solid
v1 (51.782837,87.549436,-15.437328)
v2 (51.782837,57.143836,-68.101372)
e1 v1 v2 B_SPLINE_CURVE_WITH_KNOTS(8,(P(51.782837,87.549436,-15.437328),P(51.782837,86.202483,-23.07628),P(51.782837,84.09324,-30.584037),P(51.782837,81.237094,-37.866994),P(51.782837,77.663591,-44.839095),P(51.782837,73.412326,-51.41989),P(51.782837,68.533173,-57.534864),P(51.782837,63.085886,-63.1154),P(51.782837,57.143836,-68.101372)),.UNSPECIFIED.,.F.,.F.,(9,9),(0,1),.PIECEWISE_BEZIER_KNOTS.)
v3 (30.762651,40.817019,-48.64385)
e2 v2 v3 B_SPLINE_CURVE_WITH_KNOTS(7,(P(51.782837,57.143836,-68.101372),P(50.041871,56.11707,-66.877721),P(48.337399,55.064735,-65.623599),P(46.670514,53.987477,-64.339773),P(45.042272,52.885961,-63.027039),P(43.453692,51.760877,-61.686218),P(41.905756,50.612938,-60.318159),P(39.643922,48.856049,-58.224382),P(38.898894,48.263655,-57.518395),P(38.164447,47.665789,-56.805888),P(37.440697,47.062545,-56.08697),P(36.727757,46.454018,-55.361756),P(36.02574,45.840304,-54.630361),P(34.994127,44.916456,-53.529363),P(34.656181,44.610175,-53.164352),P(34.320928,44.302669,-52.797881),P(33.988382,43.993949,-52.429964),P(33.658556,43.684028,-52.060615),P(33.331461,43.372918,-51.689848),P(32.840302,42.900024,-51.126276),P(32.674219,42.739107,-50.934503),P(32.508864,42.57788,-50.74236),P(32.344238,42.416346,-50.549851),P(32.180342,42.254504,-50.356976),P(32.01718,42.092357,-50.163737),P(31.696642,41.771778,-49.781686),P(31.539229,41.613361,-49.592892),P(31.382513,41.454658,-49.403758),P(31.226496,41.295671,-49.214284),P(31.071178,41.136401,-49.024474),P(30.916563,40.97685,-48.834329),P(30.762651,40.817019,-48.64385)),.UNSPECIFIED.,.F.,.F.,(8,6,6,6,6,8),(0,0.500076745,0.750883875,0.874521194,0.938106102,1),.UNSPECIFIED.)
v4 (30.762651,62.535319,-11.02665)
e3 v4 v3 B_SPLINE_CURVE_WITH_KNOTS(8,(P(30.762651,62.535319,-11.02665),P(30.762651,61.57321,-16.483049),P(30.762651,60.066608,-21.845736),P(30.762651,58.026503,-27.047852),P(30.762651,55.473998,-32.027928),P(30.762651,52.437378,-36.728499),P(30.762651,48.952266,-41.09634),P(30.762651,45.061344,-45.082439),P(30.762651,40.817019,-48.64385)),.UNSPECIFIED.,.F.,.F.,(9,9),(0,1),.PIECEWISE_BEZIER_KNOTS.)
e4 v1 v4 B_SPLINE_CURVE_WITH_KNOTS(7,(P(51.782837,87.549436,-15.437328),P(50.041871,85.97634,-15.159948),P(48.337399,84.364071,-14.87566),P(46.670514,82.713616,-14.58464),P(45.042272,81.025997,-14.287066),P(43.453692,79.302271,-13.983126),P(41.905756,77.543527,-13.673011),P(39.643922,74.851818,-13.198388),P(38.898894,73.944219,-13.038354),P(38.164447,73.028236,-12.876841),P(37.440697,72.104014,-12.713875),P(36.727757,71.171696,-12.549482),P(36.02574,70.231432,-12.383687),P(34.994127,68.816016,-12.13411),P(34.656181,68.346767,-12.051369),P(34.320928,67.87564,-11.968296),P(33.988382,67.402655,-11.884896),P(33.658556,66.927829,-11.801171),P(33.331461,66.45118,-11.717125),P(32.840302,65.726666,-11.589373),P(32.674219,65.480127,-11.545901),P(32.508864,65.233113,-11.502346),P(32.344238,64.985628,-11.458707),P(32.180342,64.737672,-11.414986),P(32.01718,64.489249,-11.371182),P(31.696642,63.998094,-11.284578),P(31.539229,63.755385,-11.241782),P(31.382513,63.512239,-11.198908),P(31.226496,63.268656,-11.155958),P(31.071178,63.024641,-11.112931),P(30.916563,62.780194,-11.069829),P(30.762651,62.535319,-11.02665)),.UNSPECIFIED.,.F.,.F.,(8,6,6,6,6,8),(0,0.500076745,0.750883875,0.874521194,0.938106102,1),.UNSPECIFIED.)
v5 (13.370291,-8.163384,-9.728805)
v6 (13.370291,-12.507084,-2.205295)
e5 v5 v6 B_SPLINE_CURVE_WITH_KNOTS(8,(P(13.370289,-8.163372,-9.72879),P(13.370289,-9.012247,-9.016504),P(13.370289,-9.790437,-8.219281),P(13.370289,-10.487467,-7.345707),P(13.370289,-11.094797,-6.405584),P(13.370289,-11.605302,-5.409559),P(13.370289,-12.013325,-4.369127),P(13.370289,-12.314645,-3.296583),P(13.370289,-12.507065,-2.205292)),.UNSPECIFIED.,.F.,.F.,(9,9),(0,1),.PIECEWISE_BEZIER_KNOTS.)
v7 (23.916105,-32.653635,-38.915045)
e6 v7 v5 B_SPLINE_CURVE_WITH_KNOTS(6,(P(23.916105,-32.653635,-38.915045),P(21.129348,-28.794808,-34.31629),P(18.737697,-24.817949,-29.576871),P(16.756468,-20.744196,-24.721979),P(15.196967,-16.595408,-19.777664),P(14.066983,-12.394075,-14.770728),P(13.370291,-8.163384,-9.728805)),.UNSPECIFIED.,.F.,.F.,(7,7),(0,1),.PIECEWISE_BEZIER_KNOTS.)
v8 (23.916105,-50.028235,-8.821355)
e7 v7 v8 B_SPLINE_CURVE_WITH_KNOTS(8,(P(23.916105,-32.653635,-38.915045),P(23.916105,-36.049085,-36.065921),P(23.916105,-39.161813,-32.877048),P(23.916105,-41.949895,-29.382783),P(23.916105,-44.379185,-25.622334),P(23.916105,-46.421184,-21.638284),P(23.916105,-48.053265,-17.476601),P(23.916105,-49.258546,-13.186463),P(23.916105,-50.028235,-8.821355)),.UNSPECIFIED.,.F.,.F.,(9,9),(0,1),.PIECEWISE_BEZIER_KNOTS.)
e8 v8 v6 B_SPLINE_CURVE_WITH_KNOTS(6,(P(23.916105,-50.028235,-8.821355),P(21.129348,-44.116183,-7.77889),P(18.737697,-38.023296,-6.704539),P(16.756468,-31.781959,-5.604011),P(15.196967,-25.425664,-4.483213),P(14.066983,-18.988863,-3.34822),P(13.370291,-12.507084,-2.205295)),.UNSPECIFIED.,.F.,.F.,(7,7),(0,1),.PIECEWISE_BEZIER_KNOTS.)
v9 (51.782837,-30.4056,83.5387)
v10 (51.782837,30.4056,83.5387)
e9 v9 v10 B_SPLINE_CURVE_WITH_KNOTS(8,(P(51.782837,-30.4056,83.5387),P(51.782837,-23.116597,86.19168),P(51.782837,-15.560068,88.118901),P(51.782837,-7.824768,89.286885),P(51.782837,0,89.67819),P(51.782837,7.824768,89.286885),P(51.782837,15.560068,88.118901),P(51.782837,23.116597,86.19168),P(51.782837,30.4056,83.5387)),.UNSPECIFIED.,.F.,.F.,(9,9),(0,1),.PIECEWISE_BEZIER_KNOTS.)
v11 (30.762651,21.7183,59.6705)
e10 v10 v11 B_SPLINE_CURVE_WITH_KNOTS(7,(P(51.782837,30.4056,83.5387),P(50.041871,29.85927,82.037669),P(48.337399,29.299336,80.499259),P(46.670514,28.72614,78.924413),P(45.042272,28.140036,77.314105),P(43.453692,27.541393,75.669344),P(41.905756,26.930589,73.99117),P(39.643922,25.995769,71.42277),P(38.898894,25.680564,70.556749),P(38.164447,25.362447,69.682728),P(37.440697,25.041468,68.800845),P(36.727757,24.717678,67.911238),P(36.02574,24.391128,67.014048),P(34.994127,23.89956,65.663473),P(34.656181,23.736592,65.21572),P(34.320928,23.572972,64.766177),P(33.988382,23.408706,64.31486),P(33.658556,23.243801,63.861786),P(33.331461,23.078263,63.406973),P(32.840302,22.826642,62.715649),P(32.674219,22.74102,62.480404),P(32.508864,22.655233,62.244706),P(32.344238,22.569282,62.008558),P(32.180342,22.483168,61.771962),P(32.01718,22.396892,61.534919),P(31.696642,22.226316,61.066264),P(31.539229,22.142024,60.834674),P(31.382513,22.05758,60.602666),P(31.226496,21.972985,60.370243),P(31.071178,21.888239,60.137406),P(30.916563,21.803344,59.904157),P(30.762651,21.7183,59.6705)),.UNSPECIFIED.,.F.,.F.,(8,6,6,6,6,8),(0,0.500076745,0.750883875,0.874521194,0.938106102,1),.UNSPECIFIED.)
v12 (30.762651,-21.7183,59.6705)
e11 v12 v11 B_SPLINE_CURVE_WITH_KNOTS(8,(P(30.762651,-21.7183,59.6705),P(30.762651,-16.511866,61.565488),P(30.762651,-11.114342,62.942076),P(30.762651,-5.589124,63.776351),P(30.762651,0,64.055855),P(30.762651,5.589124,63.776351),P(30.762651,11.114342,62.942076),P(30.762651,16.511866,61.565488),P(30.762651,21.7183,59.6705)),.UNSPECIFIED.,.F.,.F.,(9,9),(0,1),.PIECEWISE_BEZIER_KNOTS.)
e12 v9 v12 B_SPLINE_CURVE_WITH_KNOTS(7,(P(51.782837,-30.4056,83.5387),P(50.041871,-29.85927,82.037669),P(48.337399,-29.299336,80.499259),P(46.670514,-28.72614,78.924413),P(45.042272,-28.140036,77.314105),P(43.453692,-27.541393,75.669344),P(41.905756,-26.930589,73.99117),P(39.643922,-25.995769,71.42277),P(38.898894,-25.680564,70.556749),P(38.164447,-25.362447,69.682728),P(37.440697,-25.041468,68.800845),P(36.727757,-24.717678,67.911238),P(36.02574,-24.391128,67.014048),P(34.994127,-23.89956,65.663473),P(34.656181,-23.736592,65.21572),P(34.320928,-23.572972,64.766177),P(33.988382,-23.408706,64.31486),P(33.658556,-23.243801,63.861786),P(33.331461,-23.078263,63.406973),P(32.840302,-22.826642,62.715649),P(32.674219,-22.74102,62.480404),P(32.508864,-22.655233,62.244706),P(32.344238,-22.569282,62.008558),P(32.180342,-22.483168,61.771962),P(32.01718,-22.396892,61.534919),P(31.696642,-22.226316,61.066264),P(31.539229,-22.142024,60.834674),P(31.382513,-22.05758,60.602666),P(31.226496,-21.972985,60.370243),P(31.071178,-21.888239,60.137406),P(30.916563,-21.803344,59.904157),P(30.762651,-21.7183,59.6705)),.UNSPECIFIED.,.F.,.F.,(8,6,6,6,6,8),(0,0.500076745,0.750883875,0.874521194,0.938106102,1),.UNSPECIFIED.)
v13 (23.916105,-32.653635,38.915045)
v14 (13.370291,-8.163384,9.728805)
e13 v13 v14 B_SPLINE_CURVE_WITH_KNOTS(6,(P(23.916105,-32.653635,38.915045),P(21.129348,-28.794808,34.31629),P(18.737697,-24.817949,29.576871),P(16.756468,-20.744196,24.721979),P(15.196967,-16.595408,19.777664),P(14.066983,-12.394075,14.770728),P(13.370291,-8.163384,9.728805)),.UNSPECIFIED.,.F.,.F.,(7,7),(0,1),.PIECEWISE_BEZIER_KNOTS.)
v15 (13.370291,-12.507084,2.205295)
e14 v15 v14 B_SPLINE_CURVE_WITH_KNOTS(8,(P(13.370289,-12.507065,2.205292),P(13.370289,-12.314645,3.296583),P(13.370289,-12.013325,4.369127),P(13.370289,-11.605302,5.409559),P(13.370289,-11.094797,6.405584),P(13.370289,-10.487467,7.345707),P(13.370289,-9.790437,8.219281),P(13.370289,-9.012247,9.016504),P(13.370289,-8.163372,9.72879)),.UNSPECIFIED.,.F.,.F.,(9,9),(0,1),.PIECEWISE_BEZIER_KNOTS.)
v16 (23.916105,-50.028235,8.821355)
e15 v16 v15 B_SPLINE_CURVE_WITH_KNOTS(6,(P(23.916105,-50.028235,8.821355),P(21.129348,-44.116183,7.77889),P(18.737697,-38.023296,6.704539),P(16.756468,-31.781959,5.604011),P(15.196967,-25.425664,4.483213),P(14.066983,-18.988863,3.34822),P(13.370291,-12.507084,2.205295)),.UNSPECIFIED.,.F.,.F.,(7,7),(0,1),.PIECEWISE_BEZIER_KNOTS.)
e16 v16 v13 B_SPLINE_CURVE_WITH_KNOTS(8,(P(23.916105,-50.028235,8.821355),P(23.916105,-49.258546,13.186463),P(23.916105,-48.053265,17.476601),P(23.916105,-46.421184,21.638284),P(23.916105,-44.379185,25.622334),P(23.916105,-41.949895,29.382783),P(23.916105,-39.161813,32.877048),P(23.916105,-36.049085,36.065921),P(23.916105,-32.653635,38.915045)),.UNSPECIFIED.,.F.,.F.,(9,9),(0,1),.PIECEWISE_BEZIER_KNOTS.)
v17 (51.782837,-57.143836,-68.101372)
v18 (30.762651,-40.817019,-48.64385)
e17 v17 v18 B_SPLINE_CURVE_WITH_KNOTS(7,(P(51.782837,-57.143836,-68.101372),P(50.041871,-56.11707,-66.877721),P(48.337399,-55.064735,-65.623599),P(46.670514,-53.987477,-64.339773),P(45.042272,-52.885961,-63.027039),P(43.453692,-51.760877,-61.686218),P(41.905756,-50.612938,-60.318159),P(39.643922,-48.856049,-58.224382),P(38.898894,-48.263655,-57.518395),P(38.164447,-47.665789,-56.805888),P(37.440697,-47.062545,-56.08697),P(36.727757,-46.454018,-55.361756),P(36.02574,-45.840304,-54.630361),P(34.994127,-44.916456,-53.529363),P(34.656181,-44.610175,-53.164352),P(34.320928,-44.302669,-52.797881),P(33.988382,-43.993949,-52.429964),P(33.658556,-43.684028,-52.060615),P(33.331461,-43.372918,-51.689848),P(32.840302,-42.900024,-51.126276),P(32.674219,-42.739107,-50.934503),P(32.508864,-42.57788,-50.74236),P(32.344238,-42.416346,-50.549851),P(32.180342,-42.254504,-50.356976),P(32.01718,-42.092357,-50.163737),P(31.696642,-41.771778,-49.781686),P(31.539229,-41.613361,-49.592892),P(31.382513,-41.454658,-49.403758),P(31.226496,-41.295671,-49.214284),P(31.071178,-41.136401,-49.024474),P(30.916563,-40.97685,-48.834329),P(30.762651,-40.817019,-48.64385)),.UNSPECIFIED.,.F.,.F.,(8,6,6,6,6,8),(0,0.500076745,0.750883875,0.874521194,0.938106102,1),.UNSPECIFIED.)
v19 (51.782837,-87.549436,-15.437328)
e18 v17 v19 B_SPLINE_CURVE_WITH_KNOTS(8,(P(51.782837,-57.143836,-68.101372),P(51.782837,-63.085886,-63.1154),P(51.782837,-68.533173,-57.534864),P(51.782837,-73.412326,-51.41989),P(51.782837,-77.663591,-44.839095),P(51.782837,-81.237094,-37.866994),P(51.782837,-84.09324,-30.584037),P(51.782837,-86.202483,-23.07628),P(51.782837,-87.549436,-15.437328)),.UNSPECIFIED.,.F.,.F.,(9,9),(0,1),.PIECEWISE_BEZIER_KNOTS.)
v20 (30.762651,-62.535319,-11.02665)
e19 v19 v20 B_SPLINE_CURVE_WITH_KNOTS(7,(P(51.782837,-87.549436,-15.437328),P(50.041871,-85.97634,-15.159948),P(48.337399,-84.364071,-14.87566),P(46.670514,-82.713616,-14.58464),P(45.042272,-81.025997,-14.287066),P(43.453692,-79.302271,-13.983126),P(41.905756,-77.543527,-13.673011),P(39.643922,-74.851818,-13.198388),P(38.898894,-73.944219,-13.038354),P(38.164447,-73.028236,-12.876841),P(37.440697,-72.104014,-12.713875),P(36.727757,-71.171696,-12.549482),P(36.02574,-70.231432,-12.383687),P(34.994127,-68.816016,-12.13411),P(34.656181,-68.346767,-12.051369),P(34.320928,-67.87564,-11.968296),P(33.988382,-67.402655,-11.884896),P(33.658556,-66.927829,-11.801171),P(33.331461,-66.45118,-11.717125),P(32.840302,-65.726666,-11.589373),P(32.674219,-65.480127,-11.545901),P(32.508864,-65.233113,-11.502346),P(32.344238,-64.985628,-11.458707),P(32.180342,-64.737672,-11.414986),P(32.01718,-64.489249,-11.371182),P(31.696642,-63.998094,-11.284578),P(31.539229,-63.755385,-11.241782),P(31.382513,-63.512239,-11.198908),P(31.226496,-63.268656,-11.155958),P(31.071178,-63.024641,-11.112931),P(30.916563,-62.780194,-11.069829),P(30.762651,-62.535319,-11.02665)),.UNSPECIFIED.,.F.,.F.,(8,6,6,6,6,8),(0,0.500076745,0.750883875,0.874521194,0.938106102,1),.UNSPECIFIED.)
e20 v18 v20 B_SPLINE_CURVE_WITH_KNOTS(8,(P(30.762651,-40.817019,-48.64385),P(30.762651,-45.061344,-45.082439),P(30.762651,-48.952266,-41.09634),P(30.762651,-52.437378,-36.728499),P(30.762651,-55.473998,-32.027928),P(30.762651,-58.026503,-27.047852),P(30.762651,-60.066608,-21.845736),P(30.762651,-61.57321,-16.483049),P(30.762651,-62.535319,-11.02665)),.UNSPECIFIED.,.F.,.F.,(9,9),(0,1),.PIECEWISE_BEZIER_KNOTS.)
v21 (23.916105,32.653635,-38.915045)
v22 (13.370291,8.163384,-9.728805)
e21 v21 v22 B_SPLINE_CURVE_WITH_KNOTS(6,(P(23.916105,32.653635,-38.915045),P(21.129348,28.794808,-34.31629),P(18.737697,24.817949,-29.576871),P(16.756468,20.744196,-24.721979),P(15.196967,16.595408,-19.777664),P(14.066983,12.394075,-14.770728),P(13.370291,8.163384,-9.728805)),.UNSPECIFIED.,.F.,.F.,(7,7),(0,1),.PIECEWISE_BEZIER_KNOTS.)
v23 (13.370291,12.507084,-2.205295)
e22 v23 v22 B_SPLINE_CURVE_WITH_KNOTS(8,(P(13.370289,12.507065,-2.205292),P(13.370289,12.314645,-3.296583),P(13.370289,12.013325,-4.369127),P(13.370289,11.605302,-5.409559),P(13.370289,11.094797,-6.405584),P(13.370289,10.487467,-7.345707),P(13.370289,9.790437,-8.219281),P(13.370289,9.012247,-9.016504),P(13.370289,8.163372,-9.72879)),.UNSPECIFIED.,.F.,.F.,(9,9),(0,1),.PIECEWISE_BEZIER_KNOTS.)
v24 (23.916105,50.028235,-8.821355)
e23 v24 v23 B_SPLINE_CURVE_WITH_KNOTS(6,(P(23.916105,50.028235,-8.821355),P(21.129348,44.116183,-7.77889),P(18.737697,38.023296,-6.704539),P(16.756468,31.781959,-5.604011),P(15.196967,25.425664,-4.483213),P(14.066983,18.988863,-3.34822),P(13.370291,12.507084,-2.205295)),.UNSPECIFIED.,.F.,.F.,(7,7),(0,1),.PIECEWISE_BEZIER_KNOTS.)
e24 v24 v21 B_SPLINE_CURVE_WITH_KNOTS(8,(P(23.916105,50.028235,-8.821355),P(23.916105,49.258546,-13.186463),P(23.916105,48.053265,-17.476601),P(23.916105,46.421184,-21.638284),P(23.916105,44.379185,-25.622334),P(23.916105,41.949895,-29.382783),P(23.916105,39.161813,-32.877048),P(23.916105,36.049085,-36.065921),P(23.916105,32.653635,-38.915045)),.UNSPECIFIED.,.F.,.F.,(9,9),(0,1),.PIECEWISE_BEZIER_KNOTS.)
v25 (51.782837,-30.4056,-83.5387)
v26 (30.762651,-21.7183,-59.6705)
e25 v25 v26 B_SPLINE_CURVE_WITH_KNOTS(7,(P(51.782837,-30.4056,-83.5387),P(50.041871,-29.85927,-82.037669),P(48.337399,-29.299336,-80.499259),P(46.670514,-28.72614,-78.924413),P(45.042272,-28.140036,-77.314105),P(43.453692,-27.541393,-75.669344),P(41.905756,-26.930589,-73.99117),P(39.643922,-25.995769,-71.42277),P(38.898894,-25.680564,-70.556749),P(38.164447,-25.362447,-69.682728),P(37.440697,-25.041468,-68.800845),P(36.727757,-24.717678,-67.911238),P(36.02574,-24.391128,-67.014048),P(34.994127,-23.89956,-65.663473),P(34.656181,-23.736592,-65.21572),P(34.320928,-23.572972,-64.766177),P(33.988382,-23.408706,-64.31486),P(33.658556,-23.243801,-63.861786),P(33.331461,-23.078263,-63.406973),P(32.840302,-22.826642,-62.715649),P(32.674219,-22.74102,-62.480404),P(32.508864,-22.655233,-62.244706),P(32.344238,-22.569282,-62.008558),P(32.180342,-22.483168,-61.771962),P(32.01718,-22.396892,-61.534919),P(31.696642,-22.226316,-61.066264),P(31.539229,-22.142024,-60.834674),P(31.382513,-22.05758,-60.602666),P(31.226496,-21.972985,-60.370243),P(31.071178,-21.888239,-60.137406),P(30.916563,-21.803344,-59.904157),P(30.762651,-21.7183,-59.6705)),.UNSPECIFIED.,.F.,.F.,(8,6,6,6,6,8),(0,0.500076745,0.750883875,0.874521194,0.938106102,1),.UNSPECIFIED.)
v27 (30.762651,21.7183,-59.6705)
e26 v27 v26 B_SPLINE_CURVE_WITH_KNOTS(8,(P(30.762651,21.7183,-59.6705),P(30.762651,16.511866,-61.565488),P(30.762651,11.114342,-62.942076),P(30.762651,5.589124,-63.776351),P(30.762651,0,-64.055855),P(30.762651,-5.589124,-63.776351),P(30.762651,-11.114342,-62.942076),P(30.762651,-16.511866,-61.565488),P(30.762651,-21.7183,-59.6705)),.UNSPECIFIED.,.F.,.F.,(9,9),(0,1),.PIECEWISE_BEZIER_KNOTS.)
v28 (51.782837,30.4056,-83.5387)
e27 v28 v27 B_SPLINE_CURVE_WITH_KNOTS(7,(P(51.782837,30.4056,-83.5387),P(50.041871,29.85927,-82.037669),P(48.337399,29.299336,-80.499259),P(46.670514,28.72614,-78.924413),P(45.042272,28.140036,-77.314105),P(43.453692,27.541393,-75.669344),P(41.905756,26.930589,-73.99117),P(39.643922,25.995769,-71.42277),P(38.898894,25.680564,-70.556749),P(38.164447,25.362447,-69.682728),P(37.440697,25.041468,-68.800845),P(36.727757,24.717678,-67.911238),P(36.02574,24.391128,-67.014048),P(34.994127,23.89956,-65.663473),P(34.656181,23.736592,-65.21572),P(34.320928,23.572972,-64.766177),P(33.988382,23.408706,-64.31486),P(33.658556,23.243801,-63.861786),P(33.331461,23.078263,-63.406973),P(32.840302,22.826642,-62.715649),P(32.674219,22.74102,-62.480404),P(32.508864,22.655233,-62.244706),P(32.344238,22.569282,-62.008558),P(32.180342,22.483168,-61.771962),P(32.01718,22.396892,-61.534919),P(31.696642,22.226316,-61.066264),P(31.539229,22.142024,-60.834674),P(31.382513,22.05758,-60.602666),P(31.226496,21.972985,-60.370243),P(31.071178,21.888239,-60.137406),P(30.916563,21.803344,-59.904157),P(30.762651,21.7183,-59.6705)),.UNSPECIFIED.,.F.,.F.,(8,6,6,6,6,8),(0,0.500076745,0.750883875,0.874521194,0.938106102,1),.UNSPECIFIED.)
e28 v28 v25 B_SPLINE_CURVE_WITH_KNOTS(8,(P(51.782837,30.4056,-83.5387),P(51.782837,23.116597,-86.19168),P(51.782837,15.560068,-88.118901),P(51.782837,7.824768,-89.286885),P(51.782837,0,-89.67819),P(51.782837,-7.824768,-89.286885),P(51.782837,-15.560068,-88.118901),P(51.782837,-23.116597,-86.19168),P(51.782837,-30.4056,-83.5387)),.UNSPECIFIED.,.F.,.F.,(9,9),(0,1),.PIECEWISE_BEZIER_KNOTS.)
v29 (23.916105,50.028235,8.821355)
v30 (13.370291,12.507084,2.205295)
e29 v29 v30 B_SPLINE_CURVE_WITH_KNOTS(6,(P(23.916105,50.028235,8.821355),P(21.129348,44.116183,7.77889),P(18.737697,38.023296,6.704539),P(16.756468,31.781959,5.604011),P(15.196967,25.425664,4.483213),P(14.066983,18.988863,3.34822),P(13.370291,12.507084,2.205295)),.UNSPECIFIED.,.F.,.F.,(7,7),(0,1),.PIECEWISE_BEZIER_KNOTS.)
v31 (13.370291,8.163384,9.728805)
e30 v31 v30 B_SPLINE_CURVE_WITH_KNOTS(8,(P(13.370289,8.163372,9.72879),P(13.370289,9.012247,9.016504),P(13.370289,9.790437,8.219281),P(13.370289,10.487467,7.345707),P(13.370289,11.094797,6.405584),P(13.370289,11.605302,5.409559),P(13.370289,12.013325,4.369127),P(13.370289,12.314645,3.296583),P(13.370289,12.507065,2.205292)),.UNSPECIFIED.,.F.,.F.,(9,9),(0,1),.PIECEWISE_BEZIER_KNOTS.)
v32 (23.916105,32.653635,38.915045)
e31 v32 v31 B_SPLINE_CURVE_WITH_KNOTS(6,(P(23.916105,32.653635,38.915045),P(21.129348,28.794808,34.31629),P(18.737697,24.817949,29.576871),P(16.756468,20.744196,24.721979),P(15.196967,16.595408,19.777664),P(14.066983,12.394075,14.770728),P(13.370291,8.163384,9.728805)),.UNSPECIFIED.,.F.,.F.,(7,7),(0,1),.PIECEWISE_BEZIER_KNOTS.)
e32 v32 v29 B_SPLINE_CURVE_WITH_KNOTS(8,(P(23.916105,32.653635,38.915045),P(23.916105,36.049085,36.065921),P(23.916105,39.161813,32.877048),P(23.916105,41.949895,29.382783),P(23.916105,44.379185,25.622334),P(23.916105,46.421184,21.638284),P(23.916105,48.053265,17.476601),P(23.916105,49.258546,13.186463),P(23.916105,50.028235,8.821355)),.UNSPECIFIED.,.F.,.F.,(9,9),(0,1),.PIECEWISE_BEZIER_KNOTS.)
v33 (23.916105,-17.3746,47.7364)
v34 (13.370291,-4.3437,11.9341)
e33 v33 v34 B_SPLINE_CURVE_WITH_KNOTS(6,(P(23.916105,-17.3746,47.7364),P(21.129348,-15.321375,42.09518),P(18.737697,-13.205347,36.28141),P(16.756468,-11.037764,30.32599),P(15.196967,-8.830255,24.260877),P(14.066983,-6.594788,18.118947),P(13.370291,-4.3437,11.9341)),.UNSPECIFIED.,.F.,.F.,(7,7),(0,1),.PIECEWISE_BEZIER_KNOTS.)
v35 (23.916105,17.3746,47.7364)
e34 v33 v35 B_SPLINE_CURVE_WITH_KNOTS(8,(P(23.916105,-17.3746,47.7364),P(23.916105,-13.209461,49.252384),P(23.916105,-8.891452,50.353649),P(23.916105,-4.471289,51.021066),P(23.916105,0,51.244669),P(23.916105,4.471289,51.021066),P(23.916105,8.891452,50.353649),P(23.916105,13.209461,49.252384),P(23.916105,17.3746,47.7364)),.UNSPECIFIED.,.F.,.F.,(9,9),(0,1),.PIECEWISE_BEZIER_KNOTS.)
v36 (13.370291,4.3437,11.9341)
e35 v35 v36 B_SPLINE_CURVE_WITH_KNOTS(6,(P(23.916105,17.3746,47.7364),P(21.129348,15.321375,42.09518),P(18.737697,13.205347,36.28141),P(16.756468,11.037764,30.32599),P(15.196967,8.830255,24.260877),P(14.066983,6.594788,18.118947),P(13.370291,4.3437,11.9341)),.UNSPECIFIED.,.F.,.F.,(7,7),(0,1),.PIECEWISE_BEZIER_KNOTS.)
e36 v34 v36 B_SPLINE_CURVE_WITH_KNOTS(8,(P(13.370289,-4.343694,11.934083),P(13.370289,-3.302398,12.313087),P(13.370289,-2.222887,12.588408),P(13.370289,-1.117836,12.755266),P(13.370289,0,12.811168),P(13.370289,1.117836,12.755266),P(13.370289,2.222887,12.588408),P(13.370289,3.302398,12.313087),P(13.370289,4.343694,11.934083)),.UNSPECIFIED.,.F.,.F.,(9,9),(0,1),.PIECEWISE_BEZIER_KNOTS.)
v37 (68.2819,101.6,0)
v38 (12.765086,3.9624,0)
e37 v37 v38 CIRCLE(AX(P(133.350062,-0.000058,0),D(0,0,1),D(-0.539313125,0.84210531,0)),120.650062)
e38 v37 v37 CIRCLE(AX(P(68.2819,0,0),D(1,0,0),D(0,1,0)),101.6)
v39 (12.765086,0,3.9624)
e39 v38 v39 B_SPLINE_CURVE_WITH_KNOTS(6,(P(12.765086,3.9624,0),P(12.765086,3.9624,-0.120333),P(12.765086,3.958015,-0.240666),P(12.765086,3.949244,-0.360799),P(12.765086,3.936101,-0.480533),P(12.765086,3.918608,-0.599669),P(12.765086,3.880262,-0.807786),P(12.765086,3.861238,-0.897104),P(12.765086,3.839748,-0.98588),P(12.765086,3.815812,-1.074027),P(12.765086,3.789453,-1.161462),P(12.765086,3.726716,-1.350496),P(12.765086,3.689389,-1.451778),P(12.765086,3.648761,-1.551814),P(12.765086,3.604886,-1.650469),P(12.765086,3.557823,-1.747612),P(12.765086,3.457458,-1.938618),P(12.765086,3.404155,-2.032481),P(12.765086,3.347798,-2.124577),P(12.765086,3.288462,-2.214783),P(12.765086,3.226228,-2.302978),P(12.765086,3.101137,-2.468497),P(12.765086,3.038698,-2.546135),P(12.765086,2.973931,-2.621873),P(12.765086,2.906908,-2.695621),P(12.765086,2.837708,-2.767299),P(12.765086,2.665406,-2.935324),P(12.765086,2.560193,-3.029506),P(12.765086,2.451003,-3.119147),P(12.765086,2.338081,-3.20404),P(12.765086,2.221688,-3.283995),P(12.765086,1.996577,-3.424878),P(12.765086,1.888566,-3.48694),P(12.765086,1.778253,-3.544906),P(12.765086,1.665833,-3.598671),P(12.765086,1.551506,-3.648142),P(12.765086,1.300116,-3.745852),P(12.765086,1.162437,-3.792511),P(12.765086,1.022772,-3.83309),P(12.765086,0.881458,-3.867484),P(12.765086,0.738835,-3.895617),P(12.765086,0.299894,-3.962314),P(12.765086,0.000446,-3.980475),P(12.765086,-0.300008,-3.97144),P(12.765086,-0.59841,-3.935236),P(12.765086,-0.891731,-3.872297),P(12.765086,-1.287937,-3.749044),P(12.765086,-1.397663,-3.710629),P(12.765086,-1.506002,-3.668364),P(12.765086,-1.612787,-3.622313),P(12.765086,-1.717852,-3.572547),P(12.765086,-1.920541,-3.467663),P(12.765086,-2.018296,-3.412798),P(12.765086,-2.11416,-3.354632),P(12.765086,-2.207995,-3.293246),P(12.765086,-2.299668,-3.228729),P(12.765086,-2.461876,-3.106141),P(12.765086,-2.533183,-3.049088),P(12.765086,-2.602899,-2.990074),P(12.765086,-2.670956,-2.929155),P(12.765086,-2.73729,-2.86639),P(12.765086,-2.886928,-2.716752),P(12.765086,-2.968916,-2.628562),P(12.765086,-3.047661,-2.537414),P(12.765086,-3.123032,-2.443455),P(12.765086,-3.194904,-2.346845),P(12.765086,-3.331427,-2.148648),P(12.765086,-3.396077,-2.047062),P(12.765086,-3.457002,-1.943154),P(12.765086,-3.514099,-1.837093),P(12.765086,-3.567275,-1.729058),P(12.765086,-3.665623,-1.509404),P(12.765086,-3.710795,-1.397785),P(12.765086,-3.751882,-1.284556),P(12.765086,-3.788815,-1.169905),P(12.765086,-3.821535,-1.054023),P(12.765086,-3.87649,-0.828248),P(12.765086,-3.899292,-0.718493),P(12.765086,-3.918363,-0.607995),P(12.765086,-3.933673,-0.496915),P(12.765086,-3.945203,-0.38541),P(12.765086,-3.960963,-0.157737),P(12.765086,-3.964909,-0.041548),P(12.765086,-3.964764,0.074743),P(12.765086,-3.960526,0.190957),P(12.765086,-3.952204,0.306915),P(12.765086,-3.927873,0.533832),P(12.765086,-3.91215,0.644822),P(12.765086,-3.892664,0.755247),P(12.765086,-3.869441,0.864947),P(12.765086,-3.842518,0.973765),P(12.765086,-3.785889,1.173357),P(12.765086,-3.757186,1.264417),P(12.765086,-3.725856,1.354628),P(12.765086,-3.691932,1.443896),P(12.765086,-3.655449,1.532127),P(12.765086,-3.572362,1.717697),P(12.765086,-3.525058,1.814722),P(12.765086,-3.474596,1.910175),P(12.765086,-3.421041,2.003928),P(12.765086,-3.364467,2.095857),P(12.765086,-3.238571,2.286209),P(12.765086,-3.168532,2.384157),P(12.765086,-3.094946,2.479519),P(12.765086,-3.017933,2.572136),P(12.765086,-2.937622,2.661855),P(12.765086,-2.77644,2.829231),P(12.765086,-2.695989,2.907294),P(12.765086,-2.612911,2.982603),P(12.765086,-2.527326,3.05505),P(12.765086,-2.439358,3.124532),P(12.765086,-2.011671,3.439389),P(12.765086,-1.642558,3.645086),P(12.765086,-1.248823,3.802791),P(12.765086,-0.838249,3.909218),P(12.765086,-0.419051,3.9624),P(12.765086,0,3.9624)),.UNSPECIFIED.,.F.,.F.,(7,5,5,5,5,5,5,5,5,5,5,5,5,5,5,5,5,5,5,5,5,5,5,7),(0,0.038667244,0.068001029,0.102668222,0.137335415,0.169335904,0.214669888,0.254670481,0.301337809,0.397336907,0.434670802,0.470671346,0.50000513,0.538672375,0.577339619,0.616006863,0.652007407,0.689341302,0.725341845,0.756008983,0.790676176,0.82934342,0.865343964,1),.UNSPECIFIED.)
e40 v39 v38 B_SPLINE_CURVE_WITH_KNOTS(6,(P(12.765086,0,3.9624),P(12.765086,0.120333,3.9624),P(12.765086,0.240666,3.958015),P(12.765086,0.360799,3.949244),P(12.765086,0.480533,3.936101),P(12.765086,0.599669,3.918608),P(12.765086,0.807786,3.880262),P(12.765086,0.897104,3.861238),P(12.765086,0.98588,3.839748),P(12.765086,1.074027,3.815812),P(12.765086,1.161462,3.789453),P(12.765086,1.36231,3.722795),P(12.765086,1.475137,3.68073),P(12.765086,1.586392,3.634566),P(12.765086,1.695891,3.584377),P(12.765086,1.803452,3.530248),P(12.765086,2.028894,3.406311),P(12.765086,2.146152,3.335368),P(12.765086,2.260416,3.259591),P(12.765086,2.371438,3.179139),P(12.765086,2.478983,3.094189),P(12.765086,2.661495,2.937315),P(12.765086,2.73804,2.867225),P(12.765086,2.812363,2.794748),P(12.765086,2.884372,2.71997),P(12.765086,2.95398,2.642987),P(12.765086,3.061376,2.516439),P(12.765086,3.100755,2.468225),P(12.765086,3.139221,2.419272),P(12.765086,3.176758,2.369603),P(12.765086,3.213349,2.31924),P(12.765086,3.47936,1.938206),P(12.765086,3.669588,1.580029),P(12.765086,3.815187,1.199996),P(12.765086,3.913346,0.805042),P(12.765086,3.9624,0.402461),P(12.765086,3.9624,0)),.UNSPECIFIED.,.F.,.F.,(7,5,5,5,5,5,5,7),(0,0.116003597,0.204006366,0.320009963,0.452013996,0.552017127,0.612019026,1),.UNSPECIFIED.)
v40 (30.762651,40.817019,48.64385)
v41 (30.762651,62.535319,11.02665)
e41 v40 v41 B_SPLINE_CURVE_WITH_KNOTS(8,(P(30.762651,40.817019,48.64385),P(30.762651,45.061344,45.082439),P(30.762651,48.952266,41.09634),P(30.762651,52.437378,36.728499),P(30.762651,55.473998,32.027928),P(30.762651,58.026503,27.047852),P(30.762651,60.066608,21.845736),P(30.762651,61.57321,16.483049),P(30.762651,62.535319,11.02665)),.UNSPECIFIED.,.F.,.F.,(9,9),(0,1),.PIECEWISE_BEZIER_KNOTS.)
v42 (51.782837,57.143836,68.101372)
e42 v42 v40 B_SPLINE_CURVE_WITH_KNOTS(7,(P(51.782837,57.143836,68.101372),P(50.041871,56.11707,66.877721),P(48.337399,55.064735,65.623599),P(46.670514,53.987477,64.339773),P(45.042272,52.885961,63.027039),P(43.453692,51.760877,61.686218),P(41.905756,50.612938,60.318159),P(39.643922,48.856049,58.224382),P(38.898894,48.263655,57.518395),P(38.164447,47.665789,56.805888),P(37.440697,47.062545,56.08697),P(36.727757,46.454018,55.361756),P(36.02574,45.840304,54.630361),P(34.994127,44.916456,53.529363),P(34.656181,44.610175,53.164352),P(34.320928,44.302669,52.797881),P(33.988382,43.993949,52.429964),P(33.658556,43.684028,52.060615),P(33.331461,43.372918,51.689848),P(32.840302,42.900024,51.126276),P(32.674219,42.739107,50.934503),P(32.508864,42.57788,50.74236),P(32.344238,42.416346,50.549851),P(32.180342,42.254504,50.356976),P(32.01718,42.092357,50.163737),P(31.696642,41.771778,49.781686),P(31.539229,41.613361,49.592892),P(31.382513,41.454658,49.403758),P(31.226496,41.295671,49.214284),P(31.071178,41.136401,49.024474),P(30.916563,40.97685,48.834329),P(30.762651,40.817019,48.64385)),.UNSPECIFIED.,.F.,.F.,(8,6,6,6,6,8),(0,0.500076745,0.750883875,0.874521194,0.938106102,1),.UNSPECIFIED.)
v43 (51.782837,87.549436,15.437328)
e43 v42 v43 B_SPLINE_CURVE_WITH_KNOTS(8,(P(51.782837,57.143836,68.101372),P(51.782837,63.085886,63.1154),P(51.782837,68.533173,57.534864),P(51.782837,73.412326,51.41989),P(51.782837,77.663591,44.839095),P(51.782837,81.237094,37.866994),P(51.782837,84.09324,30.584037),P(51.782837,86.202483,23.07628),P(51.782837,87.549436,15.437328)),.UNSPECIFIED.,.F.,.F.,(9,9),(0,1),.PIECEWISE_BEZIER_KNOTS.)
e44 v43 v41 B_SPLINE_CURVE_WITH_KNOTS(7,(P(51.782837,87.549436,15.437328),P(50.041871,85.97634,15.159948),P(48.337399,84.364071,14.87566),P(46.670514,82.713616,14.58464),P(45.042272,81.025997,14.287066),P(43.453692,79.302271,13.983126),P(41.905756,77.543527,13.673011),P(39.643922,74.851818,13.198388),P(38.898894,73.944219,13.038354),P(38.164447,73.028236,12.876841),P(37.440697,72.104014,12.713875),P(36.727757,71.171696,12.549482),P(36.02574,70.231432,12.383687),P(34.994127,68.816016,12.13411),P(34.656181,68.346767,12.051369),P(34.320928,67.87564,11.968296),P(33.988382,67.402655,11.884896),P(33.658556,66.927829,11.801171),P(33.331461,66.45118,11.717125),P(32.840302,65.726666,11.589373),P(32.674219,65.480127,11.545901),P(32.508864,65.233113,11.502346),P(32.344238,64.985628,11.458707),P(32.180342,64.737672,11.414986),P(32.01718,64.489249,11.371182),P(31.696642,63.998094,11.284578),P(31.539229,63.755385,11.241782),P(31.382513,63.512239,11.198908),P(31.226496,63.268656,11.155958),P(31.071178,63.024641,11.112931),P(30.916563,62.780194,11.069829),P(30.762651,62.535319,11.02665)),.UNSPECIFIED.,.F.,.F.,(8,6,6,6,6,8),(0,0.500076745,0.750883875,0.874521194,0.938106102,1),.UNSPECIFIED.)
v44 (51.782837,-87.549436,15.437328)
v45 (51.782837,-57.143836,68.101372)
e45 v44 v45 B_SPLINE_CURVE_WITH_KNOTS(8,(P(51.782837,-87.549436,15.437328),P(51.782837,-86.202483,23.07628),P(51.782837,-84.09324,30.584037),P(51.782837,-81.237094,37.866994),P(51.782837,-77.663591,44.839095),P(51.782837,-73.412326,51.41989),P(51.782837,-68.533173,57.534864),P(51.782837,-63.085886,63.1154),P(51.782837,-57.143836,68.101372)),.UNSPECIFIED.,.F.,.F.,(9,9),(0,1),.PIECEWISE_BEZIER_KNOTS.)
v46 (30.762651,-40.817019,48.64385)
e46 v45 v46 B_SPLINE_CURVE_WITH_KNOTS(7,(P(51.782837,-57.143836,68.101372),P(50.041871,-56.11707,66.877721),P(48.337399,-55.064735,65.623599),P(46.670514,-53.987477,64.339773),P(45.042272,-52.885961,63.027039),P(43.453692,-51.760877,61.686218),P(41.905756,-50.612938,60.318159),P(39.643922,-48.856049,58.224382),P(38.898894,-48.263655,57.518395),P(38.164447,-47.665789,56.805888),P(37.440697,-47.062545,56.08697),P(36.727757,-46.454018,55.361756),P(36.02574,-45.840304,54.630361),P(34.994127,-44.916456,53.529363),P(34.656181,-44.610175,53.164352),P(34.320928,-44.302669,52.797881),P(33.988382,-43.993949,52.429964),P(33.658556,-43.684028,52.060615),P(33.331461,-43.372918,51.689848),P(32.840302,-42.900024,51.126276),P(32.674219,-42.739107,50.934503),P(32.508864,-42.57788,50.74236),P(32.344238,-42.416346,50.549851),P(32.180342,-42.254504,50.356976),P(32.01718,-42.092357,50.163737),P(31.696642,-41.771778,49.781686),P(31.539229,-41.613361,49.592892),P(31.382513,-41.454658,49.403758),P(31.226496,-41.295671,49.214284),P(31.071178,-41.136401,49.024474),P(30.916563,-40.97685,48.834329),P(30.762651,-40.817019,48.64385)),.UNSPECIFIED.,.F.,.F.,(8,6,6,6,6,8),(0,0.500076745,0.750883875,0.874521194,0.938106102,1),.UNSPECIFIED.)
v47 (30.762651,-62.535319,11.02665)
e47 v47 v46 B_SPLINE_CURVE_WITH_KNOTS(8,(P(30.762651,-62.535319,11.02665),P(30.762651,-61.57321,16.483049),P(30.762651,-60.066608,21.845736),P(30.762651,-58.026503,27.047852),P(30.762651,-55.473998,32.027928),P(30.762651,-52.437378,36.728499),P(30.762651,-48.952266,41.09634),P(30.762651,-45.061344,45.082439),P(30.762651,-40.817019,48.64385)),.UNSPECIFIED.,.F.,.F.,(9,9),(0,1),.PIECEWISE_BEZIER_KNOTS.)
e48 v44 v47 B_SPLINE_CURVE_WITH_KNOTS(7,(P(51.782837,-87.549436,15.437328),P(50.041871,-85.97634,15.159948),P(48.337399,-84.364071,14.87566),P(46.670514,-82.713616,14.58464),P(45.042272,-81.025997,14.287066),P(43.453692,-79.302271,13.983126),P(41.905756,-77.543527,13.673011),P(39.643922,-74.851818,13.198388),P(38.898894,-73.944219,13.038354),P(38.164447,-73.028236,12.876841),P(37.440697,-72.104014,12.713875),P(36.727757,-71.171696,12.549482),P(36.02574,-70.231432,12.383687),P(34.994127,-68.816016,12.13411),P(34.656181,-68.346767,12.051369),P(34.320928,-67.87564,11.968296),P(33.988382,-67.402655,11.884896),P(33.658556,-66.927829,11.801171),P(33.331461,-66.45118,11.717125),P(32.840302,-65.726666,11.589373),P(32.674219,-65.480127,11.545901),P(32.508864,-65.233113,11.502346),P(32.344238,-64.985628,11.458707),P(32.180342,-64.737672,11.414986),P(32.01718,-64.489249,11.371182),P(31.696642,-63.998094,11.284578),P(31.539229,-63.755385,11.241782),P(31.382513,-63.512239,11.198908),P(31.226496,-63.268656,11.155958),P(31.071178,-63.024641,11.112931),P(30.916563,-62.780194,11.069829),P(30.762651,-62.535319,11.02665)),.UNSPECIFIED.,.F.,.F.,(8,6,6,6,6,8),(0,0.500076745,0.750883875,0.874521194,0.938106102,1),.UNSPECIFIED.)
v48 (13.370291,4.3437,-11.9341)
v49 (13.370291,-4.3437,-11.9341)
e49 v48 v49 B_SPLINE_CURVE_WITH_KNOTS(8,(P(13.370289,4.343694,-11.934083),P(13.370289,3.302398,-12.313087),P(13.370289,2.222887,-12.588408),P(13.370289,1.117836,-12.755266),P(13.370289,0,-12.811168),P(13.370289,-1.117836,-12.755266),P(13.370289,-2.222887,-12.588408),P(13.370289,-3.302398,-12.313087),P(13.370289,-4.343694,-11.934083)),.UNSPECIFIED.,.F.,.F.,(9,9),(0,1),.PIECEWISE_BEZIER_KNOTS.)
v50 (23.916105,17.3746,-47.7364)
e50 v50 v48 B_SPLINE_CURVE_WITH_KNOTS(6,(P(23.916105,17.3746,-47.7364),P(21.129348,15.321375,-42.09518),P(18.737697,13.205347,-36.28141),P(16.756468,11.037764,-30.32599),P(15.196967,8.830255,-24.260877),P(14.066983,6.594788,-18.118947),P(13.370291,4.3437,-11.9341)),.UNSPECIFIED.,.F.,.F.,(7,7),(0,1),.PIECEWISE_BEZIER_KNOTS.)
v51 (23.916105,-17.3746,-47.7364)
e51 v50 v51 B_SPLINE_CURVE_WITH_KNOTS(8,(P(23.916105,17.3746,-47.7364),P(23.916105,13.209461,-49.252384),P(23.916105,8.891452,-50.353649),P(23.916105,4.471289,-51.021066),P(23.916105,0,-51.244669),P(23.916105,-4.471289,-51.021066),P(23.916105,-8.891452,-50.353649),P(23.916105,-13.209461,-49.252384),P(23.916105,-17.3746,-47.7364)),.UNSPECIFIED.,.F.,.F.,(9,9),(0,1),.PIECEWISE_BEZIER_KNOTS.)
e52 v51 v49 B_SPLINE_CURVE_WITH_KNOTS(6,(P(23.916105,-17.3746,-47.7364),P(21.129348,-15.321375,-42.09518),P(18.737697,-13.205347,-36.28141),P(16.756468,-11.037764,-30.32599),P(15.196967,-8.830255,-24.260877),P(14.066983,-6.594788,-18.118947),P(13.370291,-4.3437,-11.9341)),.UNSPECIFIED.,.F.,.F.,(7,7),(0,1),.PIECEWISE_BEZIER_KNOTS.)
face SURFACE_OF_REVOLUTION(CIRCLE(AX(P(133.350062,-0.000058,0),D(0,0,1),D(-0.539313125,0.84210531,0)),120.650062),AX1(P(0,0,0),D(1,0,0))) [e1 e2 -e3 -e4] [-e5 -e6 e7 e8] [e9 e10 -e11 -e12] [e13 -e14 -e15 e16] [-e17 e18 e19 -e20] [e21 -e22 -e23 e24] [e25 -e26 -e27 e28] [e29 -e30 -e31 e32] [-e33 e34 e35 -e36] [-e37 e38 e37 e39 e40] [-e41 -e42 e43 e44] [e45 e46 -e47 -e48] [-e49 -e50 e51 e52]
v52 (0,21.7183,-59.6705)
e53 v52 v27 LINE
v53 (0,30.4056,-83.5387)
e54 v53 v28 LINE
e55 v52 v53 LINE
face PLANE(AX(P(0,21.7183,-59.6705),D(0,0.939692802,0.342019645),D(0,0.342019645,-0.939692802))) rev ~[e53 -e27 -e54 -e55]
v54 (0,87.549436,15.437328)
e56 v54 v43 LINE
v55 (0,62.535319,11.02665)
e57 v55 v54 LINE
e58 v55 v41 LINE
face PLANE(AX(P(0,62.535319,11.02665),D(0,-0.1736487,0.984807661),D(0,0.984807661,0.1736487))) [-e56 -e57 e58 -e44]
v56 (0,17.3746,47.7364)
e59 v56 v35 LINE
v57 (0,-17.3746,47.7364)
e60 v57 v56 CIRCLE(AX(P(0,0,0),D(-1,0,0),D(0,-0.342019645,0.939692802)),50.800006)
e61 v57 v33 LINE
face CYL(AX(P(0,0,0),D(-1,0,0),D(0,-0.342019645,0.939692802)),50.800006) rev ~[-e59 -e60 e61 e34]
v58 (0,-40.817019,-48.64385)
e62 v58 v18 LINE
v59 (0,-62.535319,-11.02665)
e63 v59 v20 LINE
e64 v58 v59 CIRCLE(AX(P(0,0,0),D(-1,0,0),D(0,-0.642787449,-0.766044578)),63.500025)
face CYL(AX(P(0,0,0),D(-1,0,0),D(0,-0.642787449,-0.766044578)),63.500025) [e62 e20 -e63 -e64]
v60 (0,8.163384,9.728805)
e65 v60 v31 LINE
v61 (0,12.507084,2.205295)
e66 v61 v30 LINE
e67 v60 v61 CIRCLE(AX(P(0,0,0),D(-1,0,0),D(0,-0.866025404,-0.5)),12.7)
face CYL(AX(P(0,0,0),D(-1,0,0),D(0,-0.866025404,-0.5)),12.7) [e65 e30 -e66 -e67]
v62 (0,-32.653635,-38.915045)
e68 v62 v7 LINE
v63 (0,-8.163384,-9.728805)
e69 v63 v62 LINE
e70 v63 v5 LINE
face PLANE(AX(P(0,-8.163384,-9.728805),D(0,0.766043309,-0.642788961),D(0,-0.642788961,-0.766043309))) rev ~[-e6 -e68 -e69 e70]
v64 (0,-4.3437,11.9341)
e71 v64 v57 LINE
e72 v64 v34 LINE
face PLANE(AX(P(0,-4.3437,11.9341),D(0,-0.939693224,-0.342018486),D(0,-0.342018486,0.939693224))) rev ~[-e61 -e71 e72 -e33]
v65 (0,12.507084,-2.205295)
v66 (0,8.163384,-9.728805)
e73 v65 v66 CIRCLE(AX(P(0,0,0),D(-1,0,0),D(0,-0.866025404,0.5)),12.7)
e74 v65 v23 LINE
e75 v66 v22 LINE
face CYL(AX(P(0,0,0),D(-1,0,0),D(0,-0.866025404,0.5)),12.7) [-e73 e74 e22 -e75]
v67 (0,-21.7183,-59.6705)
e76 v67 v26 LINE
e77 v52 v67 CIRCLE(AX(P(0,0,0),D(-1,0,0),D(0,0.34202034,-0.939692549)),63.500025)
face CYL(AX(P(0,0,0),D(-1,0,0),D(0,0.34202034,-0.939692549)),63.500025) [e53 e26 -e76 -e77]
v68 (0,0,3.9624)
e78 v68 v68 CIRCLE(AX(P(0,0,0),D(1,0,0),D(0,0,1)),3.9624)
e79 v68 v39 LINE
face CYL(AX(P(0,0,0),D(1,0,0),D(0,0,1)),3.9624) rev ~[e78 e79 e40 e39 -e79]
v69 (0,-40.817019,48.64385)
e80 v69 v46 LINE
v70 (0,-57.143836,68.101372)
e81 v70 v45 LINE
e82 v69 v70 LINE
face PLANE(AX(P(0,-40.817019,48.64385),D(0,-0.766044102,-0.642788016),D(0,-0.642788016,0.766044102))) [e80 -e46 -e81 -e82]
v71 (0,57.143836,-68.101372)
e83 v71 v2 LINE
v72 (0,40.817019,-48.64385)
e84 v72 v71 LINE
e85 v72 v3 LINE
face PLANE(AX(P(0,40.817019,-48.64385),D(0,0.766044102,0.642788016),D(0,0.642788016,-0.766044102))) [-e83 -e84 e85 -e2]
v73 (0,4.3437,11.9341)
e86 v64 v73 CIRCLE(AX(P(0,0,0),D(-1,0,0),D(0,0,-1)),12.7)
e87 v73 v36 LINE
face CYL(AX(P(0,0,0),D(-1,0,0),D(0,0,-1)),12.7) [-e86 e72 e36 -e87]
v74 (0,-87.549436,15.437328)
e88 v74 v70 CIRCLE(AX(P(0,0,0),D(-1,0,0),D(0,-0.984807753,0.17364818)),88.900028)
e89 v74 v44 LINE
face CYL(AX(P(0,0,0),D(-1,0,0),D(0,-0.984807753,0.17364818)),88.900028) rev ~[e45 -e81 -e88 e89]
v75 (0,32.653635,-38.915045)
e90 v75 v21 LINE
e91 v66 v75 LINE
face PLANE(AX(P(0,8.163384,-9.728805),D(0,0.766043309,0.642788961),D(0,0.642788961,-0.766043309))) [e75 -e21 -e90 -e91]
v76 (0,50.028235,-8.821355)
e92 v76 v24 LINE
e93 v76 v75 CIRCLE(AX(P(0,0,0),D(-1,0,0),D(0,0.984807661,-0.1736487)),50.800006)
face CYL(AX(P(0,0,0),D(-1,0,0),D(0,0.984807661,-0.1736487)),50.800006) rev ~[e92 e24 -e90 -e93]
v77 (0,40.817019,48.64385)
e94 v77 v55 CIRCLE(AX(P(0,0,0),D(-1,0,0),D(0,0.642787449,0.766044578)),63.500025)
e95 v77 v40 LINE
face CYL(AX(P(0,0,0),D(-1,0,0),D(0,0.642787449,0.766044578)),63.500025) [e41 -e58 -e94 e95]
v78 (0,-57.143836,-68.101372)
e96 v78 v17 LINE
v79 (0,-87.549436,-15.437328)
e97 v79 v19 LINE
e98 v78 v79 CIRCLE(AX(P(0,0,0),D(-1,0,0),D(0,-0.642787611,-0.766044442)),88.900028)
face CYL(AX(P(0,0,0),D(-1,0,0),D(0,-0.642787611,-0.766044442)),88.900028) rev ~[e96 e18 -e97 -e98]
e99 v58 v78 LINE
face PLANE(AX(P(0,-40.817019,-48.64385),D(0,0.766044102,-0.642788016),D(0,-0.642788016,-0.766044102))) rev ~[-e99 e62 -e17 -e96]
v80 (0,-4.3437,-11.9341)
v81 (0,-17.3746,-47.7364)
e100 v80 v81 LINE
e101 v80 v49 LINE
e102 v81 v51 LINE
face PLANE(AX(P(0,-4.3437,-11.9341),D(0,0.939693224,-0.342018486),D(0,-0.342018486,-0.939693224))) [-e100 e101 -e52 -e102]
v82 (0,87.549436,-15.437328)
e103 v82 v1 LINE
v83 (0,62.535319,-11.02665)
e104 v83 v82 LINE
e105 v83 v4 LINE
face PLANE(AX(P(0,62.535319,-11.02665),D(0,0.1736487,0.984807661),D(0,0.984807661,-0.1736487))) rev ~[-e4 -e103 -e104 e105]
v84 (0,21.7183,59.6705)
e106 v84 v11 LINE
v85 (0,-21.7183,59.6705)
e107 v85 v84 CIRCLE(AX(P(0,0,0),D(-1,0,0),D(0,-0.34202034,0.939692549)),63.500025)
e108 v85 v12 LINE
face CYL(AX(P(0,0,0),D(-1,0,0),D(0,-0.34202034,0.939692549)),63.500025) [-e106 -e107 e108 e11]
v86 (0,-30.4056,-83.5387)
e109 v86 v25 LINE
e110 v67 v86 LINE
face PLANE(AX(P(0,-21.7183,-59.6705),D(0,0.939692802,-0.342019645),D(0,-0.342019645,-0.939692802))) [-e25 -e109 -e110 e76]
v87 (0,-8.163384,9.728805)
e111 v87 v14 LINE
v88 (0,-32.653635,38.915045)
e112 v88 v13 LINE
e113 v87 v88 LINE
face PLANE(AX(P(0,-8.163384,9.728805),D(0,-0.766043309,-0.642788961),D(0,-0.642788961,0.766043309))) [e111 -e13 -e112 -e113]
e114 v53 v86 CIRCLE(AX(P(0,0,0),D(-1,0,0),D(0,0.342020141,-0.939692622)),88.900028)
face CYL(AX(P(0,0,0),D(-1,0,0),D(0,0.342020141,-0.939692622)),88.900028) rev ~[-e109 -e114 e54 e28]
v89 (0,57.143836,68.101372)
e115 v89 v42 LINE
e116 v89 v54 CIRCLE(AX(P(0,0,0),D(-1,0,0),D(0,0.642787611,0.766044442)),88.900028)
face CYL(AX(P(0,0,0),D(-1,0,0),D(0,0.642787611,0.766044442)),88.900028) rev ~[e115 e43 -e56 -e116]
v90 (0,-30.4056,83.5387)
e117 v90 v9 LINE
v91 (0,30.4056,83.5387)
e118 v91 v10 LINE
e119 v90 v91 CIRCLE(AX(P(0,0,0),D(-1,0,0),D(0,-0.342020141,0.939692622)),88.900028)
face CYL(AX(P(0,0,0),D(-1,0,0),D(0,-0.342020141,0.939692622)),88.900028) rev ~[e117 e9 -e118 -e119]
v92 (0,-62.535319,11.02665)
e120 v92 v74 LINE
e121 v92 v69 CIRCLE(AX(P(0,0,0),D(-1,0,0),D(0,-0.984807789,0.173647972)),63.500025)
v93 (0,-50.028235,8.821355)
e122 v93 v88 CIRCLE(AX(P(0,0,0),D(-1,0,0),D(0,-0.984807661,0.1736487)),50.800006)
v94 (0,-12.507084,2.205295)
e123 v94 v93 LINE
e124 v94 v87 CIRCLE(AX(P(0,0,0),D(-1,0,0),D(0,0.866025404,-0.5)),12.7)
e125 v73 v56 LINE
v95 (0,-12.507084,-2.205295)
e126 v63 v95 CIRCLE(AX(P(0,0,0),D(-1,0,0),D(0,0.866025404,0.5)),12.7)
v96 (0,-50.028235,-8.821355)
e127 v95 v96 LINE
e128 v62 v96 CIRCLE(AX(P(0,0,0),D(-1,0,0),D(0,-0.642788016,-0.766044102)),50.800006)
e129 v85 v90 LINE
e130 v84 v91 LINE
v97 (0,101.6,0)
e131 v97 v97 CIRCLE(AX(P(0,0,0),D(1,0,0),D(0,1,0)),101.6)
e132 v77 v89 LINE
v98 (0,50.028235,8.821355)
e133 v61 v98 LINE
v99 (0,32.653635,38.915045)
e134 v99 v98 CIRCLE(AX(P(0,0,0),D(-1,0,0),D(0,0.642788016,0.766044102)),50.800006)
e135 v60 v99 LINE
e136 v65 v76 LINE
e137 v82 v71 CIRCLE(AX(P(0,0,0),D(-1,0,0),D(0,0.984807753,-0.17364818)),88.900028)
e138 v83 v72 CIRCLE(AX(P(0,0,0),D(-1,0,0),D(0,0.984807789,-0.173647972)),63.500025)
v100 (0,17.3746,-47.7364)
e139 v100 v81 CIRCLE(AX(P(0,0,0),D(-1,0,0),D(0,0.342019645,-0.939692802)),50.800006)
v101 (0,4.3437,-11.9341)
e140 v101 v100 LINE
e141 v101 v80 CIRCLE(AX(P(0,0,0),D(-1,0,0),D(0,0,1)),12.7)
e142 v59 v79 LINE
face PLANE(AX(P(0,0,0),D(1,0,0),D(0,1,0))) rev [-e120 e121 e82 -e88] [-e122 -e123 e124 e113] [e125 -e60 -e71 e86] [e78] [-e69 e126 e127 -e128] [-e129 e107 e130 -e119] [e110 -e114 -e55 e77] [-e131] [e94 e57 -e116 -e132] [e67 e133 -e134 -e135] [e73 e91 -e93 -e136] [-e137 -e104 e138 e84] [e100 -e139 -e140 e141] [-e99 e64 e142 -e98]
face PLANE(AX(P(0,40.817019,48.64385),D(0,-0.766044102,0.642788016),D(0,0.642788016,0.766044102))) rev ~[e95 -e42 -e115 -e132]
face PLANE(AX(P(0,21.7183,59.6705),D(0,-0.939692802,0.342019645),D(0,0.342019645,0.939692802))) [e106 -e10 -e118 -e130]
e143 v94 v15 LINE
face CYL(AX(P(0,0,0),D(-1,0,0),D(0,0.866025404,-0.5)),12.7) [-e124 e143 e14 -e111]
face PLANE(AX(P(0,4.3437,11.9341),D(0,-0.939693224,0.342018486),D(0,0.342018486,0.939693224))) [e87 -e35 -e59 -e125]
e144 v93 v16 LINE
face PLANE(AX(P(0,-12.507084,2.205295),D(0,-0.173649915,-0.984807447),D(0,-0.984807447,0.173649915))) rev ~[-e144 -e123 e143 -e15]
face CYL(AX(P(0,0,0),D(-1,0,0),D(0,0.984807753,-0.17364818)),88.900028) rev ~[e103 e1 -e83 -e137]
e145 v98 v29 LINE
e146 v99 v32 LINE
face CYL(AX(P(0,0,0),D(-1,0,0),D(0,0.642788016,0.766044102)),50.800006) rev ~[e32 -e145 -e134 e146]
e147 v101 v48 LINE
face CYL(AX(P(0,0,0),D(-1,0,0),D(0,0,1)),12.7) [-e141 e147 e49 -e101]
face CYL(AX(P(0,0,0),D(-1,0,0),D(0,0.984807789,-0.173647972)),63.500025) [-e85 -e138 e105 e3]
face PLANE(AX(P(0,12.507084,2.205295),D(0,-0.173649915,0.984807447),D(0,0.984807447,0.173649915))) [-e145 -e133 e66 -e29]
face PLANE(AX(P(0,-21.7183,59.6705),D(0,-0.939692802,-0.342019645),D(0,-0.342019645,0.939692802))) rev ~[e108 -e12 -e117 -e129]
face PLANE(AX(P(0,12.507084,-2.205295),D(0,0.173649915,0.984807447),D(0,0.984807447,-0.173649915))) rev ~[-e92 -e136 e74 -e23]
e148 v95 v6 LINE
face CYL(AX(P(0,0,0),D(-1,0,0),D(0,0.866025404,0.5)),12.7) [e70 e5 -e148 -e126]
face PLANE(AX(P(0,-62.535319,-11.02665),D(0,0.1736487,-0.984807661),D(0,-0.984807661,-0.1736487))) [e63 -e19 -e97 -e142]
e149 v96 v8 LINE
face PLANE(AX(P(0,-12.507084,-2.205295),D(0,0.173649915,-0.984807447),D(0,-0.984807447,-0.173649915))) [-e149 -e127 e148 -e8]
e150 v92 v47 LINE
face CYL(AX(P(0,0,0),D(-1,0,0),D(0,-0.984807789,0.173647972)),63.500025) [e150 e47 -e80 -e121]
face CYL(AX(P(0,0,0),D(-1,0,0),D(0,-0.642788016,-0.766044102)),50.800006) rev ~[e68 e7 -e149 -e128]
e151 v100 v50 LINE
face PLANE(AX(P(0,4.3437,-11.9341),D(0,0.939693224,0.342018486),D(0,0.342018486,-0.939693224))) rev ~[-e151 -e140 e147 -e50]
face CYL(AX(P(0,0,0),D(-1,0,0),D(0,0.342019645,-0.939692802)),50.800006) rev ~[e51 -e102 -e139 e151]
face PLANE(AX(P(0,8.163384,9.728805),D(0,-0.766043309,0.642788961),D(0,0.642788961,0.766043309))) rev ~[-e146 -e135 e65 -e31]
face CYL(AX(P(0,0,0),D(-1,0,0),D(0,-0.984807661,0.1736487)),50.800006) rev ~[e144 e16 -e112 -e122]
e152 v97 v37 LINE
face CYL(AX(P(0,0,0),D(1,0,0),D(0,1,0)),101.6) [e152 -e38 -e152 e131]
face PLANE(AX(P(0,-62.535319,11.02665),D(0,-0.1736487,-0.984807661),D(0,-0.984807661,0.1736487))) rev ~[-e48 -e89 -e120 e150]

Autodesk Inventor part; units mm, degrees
ref_plane "YZ Plane" through (0, 0, 0) normal (1, 0, 0) x (0, 1, 0)
ref_plane "XZ Plane" through (0, 0, 0) normal (0, 1, 0) x (-1, 0, 0)
ref_plane "XY Plane" through (0, 0, 0) normal (0, 0, 1) x (1, 0, 0)
sketch "Sketch4" plane through (0, 0, 0) normal (0, 0, 1) x (1, 0, 0)
  line L0 (0, 0) -> (101.6, 0) construction
  arc A0 (68.2819, 101.6) -> (12.7, 0) centre (133.35, 0) ccw
  line L1 (12.7, 0) -> (12.7, 96.7762) construction
  line L2 (0, 0) -> (0, 101.6)
  line L3 (0, 101.6) -> (68.2819, 101.6)
  line L4 (0, 0) -> (12.7, 0)
  dimension "d11" = 101.6
  dimension "d12" = 12.7
  dimension "d13" = 101.6
  dimension "d14" = 241.3
revolve "Revolution2" add sketch "Sketch4" angle 360 about axis through (0, 0, 0) along (1, 0, 0)
sketch "Sketch6" plane through (0, 0, 0) normal (-1, 0, 0) x (0, 0, 1)
  point P0 (0, 0)
  point P1 (0, 0)
hole "Hole1" at (0, 0, 0) direction (1, 0, 0) diameter 7.9248 end through all
sketch "Sketch10" plane through (0, 0, 0) normal (-1, 0, 0) x (0, 0, 1)
  circle A0 centre (0, 0) radius 101.6 projected
  circle A1 centre (0, 0) radius 3.9624 construction
  line L0 (0, 0) -> (-101.6, 0) construction
  circle A2 centre (0, 0) radius 101.6 projected
  circle A3 centre (0, 0) radius 12.7
  arc A4 (-83.5387, 30.4056) -> (-83.5387, -30.4056) centre (0, 0) ccw
  arc A5 (-59.6705, 21.7183) -> (-59.6705, -21.7183) centre (0, 0) ccw
  arc A6 (-47.7364, 17.3746) -> (-47.7364, -17.3746) centre (0, 0) ccw
  line L1 (-11.9341, 4.3437) -> (-47.7364, 17.3746)
  line L2 (-59.6705, 21.7183) -> (-83.5387, 30.4056)
  line L3 (-11.9341, -4.3437) -> (-47.7364, -17.3746)
  line L4 (-59.6705, -21.7183) -> (-83.5387, -30.4056)
  dimension "d58" = 25.4
  dimension "d59" = 12.7
  dimension "d60" = 12.7
  dimension "d61" = 38.1
extrude "Extrusion7" cut sketch "Sketch10" against normal through all contours A3 L3 A6 L1 | L2 A5 L4 A4
pattern_circular "Circular Pattern4" count 6 over 360 about axis through (-10, 0, 0) along (1, 0, 0) of "Extrusion7"
properties part number "2022plateForBall"
